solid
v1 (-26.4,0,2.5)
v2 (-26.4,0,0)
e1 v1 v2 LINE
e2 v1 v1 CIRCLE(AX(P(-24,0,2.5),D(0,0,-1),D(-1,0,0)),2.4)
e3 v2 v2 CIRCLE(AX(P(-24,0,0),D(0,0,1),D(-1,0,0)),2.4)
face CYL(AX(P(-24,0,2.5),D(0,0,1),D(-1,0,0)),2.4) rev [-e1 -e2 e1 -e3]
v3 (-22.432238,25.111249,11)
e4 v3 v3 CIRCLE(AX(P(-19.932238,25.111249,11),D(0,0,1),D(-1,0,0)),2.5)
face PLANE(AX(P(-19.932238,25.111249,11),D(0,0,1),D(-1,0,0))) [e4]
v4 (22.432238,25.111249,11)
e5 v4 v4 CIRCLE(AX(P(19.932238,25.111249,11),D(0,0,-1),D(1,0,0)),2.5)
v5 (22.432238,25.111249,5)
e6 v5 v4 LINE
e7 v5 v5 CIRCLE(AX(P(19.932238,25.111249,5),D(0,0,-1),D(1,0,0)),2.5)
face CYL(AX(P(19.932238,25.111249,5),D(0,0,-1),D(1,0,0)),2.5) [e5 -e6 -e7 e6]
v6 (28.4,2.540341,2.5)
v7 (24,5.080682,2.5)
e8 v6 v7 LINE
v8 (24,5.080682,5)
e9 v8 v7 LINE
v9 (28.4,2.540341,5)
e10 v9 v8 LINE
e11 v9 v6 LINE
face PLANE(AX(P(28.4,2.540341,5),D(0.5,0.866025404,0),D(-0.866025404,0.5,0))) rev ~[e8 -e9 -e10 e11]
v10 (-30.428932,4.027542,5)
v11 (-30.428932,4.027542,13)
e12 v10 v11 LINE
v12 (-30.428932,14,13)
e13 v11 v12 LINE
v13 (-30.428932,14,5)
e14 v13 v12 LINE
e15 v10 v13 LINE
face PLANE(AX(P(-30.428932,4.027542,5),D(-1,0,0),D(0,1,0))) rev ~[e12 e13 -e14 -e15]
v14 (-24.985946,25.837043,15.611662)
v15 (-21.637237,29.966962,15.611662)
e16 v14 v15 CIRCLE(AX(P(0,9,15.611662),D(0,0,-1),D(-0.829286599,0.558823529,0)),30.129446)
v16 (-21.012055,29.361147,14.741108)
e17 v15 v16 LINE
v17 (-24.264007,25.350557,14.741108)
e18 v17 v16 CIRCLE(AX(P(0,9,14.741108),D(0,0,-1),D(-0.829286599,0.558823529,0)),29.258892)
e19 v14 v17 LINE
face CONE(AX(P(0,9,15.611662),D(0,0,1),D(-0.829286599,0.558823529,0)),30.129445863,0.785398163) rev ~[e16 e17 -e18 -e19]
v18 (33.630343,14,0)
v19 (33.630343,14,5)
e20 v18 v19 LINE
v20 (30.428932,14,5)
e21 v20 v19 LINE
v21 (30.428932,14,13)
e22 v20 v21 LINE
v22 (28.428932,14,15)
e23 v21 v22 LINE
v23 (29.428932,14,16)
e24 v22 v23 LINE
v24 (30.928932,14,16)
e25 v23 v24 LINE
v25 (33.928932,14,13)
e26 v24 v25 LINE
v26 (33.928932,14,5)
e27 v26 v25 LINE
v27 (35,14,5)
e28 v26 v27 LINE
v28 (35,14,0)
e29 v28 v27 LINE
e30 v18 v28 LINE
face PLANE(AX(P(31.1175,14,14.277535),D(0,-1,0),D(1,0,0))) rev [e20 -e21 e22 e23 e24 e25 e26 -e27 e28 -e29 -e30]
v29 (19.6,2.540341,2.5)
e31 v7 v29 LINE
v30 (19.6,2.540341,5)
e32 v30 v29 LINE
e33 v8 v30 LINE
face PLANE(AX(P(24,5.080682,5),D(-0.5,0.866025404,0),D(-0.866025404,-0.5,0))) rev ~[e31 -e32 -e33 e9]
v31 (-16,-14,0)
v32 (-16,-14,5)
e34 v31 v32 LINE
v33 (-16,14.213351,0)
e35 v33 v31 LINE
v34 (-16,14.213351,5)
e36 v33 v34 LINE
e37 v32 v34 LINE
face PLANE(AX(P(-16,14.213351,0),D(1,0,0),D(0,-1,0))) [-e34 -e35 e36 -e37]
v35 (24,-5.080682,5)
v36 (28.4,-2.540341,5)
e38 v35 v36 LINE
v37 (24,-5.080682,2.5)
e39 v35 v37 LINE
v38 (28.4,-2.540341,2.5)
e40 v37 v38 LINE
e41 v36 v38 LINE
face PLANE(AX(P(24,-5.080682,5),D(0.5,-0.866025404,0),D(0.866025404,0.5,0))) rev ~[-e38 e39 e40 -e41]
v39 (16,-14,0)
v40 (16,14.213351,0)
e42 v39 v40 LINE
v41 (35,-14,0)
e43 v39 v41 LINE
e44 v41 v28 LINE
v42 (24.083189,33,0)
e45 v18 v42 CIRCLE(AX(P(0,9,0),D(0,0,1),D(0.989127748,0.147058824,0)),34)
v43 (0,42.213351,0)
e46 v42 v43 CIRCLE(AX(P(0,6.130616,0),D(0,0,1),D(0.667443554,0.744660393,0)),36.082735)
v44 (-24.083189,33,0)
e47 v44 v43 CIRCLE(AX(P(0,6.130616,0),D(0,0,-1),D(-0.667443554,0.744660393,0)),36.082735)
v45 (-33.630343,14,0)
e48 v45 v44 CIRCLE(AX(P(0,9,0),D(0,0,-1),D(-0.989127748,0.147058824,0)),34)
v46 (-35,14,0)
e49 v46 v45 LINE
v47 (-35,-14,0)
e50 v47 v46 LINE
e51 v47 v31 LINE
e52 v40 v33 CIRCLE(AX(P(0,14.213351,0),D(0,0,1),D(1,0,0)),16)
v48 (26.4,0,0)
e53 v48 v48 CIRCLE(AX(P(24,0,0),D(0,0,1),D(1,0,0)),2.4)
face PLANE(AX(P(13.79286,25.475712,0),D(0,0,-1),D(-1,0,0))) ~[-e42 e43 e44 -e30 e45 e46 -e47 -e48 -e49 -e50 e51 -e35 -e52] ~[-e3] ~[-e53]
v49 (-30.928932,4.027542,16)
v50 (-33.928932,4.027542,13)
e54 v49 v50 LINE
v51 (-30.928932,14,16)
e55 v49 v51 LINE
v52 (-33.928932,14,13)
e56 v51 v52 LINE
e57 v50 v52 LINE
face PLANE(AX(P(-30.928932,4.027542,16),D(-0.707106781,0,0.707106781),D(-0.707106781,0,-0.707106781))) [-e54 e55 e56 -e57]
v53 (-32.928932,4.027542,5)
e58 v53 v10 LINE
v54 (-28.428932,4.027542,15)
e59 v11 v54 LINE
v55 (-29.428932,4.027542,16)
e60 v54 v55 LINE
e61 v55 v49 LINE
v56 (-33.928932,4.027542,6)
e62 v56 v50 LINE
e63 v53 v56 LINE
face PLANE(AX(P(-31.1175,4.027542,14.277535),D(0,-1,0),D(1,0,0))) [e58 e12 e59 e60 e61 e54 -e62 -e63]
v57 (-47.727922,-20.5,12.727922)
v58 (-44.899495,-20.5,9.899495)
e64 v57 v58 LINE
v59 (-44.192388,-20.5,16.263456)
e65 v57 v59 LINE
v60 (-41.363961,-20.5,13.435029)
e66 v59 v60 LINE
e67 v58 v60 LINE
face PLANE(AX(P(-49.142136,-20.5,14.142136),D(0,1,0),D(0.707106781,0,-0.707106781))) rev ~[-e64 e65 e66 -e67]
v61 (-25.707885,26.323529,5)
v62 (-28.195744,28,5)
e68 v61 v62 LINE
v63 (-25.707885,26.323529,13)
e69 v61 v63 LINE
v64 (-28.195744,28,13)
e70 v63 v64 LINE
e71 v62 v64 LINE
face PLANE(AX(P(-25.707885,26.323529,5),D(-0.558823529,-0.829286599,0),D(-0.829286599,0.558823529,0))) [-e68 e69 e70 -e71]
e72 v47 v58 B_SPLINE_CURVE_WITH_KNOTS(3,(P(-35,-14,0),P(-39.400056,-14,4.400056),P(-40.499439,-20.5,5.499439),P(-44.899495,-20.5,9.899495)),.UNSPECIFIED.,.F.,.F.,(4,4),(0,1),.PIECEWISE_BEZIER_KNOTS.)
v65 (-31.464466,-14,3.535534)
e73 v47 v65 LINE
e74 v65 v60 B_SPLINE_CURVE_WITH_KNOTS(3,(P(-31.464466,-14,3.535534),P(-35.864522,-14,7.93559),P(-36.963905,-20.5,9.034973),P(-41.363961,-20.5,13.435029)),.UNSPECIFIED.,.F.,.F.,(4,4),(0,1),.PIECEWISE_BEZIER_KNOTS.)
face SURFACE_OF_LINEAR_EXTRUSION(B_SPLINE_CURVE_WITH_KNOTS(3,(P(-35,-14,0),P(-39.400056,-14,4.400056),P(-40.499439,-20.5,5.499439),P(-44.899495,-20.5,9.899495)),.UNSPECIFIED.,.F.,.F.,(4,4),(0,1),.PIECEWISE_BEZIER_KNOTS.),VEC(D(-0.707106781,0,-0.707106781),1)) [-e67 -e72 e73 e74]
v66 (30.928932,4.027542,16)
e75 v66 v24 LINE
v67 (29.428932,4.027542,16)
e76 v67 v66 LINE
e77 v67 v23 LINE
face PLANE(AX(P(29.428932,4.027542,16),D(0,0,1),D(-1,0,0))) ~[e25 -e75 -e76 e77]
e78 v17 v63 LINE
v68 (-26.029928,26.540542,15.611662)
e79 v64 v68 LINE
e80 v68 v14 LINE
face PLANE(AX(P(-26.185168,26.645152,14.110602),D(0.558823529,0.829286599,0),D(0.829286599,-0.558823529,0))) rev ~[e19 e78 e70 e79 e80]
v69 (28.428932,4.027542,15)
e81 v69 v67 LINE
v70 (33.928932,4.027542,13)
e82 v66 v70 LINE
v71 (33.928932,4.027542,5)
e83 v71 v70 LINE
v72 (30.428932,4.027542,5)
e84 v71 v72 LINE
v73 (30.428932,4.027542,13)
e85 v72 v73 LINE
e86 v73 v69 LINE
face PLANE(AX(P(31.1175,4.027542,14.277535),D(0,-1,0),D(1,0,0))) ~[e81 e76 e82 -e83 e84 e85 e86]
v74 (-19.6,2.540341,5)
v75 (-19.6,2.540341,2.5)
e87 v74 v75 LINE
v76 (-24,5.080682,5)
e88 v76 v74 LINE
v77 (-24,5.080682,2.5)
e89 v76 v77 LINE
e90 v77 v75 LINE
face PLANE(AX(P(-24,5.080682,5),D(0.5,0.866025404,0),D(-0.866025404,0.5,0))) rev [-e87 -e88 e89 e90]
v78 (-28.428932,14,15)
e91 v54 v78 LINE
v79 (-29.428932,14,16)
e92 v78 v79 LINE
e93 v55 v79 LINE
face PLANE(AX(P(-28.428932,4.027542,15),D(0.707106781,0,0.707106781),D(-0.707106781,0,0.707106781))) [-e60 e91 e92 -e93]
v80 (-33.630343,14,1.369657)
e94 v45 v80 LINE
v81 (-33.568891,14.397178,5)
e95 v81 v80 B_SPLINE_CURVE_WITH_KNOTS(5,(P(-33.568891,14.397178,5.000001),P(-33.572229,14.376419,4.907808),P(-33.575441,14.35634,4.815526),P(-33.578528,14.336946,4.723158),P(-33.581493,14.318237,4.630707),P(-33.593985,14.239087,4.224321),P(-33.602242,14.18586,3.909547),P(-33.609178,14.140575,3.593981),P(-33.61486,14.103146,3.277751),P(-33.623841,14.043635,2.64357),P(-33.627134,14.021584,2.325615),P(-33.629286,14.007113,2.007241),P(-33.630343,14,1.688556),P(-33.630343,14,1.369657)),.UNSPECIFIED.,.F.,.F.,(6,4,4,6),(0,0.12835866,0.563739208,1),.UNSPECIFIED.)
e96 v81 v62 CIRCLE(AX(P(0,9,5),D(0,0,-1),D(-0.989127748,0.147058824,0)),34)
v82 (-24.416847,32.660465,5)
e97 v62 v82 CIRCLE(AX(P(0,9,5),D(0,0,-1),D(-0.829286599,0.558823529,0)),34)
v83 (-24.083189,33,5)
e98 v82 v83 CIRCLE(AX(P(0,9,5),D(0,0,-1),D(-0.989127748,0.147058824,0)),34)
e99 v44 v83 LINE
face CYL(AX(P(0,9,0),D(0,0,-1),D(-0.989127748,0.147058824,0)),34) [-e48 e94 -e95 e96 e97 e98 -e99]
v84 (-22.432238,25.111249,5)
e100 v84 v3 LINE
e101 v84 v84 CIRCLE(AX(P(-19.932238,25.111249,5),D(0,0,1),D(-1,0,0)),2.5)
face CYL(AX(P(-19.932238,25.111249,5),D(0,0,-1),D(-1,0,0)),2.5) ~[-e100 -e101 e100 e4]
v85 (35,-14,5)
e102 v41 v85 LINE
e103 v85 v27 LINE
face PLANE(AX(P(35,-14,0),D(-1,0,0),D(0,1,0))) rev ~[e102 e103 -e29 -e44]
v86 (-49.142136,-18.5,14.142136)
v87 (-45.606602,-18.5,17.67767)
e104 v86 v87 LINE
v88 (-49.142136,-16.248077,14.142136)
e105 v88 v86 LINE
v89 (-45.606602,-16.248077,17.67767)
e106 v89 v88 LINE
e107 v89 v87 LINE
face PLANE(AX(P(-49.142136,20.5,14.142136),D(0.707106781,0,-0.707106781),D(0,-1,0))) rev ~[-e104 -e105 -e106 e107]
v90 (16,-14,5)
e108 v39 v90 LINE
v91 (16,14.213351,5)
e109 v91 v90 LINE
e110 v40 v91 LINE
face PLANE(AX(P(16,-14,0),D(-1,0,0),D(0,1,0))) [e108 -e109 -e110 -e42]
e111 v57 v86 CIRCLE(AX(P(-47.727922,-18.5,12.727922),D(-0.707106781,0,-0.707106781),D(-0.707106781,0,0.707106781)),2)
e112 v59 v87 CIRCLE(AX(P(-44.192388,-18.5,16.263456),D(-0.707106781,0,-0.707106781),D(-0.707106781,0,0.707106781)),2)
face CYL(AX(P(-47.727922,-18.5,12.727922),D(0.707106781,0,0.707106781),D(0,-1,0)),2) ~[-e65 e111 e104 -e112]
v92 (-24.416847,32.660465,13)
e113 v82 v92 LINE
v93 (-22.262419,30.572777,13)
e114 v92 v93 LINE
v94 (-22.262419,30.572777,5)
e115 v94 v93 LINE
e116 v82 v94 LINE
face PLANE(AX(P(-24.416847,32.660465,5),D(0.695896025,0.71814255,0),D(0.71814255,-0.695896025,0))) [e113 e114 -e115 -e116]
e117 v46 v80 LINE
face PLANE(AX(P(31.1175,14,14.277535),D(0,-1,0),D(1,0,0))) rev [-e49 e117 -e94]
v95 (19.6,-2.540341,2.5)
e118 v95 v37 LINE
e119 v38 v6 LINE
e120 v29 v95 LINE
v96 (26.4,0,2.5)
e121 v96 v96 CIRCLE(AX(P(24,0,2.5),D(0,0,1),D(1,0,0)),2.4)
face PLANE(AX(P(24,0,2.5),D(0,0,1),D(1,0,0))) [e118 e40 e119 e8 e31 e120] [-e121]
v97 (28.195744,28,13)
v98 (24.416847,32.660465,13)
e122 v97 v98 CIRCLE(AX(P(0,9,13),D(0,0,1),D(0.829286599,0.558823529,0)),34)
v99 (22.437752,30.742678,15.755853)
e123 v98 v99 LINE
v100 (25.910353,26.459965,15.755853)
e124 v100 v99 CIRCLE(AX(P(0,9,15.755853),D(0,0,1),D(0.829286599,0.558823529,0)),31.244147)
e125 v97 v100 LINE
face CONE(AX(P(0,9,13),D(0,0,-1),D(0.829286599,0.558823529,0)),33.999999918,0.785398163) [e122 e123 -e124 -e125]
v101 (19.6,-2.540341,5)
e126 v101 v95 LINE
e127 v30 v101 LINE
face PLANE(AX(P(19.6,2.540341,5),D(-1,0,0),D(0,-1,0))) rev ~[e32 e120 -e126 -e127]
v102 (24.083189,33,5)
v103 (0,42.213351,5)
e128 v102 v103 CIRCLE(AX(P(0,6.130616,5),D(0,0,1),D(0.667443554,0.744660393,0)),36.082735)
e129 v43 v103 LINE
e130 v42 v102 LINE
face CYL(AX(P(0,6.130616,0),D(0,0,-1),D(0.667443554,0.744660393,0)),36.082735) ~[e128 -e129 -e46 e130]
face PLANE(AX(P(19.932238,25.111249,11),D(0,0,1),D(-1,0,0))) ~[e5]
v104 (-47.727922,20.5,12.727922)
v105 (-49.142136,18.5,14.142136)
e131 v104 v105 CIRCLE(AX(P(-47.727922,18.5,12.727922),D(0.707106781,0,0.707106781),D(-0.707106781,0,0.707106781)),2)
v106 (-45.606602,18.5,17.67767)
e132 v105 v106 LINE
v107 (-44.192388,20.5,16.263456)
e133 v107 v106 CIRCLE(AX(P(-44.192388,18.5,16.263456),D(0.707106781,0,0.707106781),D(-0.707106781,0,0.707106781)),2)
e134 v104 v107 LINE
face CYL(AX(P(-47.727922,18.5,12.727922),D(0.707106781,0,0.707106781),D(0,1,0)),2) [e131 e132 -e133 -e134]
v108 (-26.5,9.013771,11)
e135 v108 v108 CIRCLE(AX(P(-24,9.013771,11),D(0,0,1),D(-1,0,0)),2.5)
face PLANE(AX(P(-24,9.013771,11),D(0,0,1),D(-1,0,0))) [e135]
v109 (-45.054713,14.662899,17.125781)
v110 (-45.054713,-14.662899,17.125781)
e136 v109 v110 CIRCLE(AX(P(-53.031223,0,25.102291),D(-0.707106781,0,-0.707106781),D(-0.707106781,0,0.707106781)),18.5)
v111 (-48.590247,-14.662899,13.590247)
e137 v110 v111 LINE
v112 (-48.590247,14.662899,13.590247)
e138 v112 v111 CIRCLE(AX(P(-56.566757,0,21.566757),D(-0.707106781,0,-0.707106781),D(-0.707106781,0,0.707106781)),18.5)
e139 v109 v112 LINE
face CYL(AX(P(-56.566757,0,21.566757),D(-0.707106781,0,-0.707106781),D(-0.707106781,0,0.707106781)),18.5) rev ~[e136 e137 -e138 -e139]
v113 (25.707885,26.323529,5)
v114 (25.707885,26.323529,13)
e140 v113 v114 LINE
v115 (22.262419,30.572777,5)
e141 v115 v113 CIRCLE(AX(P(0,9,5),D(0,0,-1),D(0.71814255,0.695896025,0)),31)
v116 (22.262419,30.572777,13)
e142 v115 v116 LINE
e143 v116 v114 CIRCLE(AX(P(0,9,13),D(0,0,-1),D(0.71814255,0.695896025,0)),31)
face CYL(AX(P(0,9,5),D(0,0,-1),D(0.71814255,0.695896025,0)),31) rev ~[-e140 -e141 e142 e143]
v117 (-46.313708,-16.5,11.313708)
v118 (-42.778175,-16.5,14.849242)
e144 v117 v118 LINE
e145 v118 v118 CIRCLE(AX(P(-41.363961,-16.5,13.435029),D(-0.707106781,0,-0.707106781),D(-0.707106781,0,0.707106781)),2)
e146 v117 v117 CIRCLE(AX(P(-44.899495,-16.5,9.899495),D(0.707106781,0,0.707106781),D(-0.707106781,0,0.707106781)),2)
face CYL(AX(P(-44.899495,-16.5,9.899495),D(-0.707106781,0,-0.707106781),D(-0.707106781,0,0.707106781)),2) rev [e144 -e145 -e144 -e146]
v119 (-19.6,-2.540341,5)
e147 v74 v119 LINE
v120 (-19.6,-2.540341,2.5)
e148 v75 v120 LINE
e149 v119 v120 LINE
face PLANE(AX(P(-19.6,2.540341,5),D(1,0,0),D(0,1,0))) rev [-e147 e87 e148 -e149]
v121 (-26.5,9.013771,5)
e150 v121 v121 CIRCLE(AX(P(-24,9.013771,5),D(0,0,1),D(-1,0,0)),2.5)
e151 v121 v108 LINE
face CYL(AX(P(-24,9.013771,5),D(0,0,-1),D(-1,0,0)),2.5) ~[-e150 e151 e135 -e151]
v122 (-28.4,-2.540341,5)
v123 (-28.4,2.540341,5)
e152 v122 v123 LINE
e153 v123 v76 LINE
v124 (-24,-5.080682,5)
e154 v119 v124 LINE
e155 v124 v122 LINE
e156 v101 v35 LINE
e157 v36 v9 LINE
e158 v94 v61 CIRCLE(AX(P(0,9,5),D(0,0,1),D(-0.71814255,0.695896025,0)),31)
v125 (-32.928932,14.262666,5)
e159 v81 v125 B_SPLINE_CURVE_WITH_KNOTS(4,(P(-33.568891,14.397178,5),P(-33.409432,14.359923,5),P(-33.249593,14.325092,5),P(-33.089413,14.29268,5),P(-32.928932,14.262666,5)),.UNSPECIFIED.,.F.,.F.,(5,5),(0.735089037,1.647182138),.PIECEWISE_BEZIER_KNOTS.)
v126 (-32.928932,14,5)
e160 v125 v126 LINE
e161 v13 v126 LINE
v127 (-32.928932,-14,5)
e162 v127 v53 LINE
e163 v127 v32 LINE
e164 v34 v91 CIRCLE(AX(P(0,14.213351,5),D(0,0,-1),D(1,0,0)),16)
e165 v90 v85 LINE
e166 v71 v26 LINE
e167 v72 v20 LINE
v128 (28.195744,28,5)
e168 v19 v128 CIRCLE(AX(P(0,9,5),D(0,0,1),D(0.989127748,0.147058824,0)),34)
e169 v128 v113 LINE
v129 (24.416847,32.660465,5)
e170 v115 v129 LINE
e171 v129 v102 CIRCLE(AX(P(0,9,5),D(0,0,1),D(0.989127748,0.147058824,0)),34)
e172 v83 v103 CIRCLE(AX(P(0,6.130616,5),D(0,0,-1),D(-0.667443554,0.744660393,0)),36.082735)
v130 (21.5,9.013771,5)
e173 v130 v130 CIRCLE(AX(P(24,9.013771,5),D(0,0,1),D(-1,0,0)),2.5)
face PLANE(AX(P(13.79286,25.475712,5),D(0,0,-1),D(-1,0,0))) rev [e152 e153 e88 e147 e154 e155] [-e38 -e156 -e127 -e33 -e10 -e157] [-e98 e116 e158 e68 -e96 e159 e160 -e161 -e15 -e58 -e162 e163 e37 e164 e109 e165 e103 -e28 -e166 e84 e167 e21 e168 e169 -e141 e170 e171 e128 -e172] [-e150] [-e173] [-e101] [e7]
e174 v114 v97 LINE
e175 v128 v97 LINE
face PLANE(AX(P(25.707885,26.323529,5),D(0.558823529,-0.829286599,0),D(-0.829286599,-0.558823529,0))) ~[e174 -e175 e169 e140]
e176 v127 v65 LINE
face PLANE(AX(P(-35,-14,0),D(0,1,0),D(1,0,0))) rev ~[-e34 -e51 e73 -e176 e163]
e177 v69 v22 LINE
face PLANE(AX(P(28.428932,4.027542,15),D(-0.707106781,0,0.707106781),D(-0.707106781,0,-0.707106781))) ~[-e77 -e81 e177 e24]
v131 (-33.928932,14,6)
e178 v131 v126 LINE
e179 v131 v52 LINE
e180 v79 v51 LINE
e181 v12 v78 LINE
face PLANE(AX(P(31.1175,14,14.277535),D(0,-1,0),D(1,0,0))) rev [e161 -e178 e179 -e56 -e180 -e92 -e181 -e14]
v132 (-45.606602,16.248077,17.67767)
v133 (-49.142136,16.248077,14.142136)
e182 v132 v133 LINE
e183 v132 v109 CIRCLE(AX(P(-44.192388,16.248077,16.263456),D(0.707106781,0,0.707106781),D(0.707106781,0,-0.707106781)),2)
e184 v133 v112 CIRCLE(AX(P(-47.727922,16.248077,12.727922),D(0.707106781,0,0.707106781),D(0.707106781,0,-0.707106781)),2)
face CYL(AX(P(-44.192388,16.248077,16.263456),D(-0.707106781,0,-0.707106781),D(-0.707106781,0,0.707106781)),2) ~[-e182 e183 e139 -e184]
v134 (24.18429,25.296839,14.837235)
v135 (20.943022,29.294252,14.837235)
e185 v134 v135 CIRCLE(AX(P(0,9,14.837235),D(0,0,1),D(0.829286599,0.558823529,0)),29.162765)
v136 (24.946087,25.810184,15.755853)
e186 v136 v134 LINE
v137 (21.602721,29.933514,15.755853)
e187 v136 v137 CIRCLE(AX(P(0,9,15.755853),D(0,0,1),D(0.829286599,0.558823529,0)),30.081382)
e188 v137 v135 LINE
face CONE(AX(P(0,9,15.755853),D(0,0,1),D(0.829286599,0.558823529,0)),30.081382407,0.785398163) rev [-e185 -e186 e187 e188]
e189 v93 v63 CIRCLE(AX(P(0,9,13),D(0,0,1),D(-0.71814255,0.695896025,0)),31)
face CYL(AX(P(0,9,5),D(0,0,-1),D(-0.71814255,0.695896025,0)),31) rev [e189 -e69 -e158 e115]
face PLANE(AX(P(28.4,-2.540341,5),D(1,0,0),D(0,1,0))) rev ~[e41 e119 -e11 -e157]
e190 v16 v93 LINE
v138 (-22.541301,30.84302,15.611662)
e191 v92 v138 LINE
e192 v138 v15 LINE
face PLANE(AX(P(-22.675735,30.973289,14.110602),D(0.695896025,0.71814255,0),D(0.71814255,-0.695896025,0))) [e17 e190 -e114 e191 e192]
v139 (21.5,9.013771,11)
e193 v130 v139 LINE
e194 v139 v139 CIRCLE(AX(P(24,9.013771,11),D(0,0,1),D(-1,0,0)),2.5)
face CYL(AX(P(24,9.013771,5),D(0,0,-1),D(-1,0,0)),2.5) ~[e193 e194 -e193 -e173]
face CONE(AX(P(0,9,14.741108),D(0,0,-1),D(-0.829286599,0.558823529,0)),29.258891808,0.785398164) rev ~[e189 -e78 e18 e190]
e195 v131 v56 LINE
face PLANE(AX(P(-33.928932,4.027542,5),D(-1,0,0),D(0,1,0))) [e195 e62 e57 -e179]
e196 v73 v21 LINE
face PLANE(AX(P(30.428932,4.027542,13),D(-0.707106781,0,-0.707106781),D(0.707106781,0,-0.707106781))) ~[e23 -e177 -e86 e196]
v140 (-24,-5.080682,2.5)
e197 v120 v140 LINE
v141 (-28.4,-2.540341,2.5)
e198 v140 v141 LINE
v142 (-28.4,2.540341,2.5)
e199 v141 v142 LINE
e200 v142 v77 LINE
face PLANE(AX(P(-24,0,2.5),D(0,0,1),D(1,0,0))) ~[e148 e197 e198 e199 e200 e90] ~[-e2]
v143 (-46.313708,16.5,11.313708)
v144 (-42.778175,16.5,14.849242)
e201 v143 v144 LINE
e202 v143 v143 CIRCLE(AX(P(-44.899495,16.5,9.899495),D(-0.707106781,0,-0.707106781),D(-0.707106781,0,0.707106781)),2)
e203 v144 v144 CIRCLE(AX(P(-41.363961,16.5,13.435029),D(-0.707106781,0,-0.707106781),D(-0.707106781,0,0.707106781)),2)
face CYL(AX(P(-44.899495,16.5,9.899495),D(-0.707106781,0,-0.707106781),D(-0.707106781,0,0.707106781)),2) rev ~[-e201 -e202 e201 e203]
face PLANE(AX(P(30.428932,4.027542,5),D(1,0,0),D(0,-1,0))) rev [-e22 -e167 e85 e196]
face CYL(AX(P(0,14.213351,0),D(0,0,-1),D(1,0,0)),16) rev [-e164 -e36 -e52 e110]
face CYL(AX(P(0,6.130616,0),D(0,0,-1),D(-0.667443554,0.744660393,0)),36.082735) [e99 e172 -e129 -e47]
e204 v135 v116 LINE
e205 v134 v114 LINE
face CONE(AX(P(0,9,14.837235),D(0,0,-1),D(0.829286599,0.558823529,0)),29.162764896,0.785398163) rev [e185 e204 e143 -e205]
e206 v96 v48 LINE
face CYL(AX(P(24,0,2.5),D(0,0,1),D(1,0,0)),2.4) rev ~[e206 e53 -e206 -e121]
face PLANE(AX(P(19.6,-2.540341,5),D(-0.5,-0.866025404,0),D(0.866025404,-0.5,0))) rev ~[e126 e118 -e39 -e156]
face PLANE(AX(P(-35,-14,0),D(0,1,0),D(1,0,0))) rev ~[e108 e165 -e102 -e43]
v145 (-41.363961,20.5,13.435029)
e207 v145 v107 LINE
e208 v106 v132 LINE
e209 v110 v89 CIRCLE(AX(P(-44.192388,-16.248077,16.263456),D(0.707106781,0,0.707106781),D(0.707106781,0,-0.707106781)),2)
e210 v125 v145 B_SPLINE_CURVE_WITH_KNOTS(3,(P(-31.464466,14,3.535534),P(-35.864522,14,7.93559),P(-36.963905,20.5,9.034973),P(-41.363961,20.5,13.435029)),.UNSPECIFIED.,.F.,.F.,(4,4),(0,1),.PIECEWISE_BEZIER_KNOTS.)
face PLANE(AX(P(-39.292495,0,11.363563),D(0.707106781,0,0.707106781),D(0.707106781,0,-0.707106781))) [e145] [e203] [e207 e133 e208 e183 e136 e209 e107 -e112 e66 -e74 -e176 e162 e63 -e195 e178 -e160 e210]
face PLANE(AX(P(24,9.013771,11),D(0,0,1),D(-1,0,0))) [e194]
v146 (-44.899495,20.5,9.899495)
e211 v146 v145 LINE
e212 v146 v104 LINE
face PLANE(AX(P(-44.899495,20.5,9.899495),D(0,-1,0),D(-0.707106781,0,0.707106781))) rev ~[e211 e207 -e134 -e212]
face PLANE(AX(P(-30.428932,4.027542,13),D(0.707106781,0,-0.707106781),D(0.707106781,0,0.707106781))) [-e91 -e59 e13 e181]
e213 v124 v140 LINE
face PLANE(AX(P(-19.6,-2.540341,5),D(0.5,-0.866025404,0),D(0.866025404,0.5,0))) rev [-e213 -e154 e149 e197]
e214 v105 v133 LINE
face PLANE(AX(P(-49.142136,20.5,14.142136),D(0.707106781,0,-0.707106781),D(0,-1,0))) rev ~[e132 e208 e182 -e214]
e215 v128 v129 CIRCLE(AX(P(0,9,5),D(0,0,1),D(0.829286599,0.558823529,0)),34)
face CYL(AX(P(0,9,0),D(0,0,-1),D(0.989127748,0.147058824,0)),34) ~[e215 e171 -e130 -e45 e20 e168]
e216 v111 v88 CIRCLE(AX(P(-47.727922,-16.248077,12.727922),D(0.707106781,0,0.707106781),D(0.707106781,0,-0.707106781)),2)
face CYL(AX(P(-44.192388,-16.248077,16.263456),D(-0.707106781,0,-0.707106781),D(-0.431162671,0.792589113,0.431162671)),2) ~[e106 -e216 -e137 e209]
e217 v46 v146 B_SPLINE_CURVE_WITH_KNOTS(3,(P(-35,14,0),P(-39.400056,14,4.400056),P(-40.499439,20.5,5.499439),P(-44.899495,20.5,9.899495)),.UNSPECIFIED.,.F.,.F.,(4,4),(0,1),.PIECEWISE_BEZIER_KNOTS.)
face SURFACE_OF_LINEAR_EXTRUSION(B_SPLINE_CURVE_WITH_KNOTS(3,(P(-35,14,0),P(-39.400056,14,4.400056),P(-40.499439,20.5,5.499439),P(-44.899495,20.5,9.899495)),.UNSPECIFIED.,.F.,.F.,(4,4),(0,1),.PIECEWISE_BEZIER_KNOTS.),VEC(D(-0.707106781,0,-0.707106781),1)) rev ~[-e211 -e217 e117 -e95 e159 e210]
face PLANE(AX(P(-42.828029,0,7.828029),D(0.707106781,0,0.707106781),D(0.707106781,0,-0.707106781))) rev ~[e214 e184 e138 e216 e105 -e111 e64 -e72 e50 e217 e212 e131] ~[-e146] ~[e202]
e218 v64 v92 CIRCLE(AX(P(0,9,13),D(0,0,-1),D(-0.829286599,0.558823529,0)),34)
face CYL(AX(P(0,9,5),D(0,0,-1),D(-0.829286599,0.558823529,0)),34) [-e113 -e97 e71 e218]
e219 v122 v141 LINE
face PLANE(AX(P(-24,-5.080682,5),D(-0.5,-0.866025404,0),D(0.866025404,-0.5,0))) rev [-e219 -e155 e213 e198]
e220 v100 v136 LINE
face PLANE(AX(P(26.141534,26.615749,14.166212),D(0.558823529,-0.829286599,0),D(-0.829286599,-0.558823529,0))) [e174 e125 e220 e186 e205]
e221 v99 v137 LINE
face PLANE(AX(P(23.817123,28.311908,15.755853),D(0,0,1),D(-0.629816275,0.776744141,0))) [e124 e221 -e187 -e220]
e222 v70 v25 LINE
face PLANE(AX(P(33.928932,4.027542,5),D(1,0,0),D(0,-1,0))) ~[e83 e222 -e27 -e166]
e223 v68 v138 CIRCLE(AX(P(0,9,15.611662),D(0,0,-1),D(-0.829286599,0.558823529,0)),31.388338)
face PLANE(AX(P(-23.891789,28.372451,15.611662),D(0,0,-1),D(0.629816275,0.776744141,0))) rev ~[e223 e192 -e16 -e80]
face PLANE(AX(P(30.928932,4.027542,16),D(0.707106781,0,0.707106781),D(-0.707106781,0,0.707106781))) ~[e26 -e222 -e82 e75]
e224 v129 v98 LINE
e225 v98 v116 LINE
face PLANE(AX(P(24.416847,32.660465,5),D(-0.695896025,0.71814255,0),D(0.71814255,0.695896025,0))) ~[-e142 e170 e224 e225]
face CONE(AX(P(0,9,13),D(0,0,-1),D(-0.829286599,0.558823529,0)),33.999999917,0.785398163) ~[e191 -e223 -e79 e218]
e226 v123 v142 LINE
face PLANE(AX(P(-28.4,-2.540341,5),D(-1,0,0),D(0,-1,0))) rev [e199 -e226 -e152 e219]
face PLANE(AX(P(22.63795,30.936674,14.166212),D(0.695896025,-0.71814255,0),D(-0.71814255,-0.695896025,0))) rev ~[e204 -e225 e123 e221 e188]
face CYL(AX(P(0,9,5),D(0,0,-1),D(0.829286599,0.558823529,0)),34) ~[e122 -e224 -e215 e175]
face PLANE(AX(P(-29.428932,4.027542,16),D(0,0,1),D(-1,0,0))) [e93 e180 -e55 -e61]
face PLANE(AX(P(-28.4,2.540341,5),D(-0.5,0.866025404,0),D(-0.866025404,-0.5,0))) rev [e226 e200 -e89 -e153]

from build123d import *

# Parameters (mm, degrees)
SKETCH2_W                = 70
SKETCH2_H                = 28
BOSS_EXTRUDE1_DEPTH      = 5
CUT_NUT_DEPTH            = 2.5
SKETCH4_R                = 2.4
CUT_SCREW_DEPTH          = 38.7789624
SKETCH8_R                = 11
CUT_HOT_END_DEPTH        = 39.026306684
SKETCH11_W               = 22
SKETCH11_H               = 14
CUT_EXTRUDE8_DEPTH       = 39.026306684
BOSS_FAN_DEPTH           = 5
SKETCH9_R                = 2
CUT_FAN_SCREW_DEPTH      = 67.437703487
SKETCH10_R               = 18.5
CUT_EXTRUDE7_DEPTH       = 67.437703487
FILLET2_R                = 2
SKETCH12_W               = 3.5
SKETCH12_H               = 9.97245834
BOSS_BACK_HOOK_DEPTH     = 8
BOSS_BACK_HOOK_TOP_DEPTH = 9.97245834
SKETCH17_R               = 2.5
BOSS_EXTRUDE10_DEPTH     = 6
BOSS_FRONT_SUPPORT_REACH = 58.104
BOSS_FRONT_HOOK_DEPTH    = 8
SKETCH25_R               = 2.5
BOSS_FRONT_PIN_DEPTH     = 6
BOSS_FRONT_CURVE_DEPTH   = 5
CUT_EXTRUDE9_DEPTH       = 68.152189514


with BuildPart() as part:
    # Sketch2 → Boss-Extrude1 (new body)
    with BuildSketch(Plane.XY):
        Rectangle(SKETCH2_W, SKETCH2_H)
    extrude(amount=BOSS_EXTRUDE1_DEPTH)

    # Sketch3 → Cut-Nut (cut)
    with BuildSketch(Plane.XY.offset(5)):
        Polygon((28.4, 2.540341184), (24, 5.080682369), (19.6, 2.540341184), (19.6, -2.540341184), (24, -5.080682369), (28.4, -2.540341184), align=None)
    cut_nut = extrude(amount=-CUT_NUT_DEPTH, mode=Mode.SUBTRACT)

    # Sketch4 → Cut-Screw (cut, through all)
    with BuildSketch(Plane.XY.offset(2.5)):
        with Locations((24, 0)):
            Circle(SKETCH4_R)
    cut_screw = extrude(amount=-CUT_SCREW_DEPTH, mode=Mode.SUBTRACT)

    # Mirror1: Cut-Nut, Cut-Screw across plane
    add(cut_nut.mirror(Plane(origin=(0, 0, 0), x_dir=(0, 0, 1), z_dir=(1, 0, 0))), mode=Mode.SUBTRACT)
    add(cut_screw.mirror(Plane(origin=(0, 0, 0), x_dir=(0, 0, 1), z_dir=(1, 0, 0))), mode=Mode.SUBTRACT)

    # Sketch8 → Cut-Hot End (cut, through all)
    with BuildSketch(Plane.XY.offset(5)):
        Circle(SKETCH8_R)
    extrude(amount=-CUT_HOT_END_DEPTH, mode=Mode.SUBTRACT)

    # Sketch11 → Cut-Extrude8 (cut, through all)
    with BuildSketch(Plane.XY.offset(5)):
        with Locations((0, -7)):
            Rectangle(SKETCH11_W, SKETCH11_H)
    extrude(amount=-CUT_EXTRUDE8_DEPTH, mode=Mode.SUBTRACT)

    # Sketch6 → Boss-Fan (add)
    with BuildSketch(Plane(origin=(-17.5, 0, -17.5), x_dir=(-0.7071067811865488, 0, 0.7071067811865464), z_dir=(-0.7071067811865464, 0, -0.7071067811865488))):
        with BuildLine():
            Line((38.748737342, 20.5), (44.748737342, 20.5))
            Line((44.748737342, 20.5), (44.748737342, -20.5))
            Line((44.748737342, -20.5), (38.748737342, -20.5))
            add(Edge.make_bspline(
                [(24.748737342, -14), (30.971356168, -14), (32.526118515, -20.5), (38.748737342, -20.5)],
                knots=[0, 0, 0, 0, 1, 1, 1, 1], degree=3))
            Line((24.748737342, -14), (24.748737342, 14))
            add(Edge.make_bspline(
                [(24.748737342, 14), (30.971356168, 14), (32.526118515, 20.5), (38.748737342, 20.5)],
                knots=[0, 0, 0, 0, 1, 1, 1, 1], degree=3))
        make_face()
    extrude(amount=-BOSS_FAN_DEPTH)

    # Sketch9 → Cut-Fan Screw (cut, through all)
    with BuildSketch(Plane(origin=(-17.5, 0, -17.5), x_dir=(-0.7071067811865487, 1.3344026738283447e-14, 0.7071067811865464), z_dir=(-0.7071067811865464, 1.3877787807814728e-14, -0.7071067811865487))):
        with Locations((38.748737342, 16.5)):
            Circle(SKETCH9_R)
    cut_fan_screw = extrude(amount=-CUT_FAN_SCREW_DEPTH, mode=Mode.SUBTRACT)

    # Mirror-Fan Screw: Cut-Fan Screw across plane
    add(cut_fan_screw.mirror(Plane.ZX), mode=Mode.SUBTRACT)

    # Sketch10 → Cut-Extrude7 (cut, through all)
    with BuildSketch(Plane(origin=(-17.5, 0, -17.5), x_dir=(-0.7071067811865488, 1.4278108609963275e-14, 0.7071067811865464), z_dir=(-0.7071067811865464, 1.3877787807814742e-14, -0.7071067811865488))):
        with Locations((55.248737342, 0)):
            Circle(SKETCH10_R)
    extrude(amount=-CUT_EXTRUDE7_DEPTH, mode=Mode.SUBTRACT)

    # Fillet2
    fillet2_edges = [part.edges().sort_by_distance(p)[0] for p in [
        (-47.374368671, -15.231546212, 15.909902577),
        (-47.374368671, 15.231546212, 15.909902577),
        (-47.374368671, 20.5, 15.909902577),
        (-47.374368671, -20.5, 15.909902577),
    ]]
    fillet(fillet2_edges, radius=FILLET2_R)

    # Sketch12 → Boss-Back Hook (add)
    with BuildSketch(Plane.XY.offset(5)):
        with Locations((-32.178932188, 9.01377083)):
            Rectangle(SKETCH12_W, SKETCH12_H)
    boss_back_hook = extrude(amount=BOSS_BACK_HOOK_DEPTH)

    # Sketch14 → Boss-Back Hook Top (add)
    with BuildSketch(Plane.XZ.offset(-4.02754166)):
        Polygon((-30.428932188, 13), (-28.428932188, 15), (-29.428932188, 16), (-30.928932188, 16), (-33.928932188, 13), align=None)
    boss_back_hook_top = extrude(amount=-BOSS_BACK_HOOK_TOP_DEPTH)

    # Mirror-Back Hook: Boss-Back Hook, Boss-Back Hook Top across plane
    add(boss_back_hook.mirror(Plane(origin=(0, 0, 0), x_dir=(0, 0, 1), z_dir=(1, 0, 0))))
    add(boss_back_hook_top.mirror(Plane(origin=(0, 0, 0), x_dir=(0, 0, 1), z_dir=(1, 0, 0))))

    # Sketch17 → Boss-Extrude10 (add)
    with BuildSketch(Plane.XY.offset(5)):
        with Locations(Location((-24, 9.01377083, 0), (0, 0, 180))):
            Circle(SKETCH17_R)
        with Locations(Location((24, 9.01377083, 0), (0, 0, 180))):
            Circle(SKETCH17_R)
    extrude(amount=BOSS_EXTRUDE10_DEPTH)

    # Boss-Front Support: up to this face of the body (flat: up to its plane)
    boss_front_support_end = Plane(part.part.faces().sort_by_distance((23, -13.265266046, 5))[0])
    # Sketch20 → Boss-Front Support (add, up to the picked face)
    with BuildSketch(Plane(origin=(0, 0, 0), x_dir=(-1, 0, 0), z_dir=(0, 0, -1)), mode=Mode.PRIVATE) as boss_front_support_sk1:
        with BuildLine():
            Line((24.083189158, 33), (15.583240043, 24.529411765))
            ThreePointArc((15.583240043, 24.529411765), (19.23814858, 19.67209629), (21.424285286, 14))
            Line((21.424285286, 14), (33.630343442, 14))
            ThreePointArc((33.630343442, 14), (30.380305483, 24.265550718), (24.083189158, 33))
        make_face()
    boss_front_support_tool1 = split(extrude(boss_front_support_sk1.sketch, amount=-BOSS_FRONT_SUPPORT_REACH, mode=Mode.PRIVATE), bisect_by=boss_front_support_end, keep=Keep.BOTH, mode=Mode.PRIVATE)
    boss_front_support = boss_front_support_tool1.solids().sort_by(Axis((-24.942204, 21.980876, 0), (0, 0, 1)))[0]
    add(boss_front_support)

    # Sketch21 → Boss-Front Hook (add)
    with BuildSketch(Plane.XY.offset(5)):
        with BuildLine():
            Line((-24.416846712, 32.660464844), (-22.262419061, 30.57277677))
            ThreePointArc((-22.262419061, 30.57277677), (-24.079068363, 28.524304515), (-25.707884563, 26.323529412))
            Line((-25.707884563, 26.323529412), (-28.19574436, 28))
            ThreePointArc((-28.19574436, 28), (-26.409300785, 30.413753339), (-24.416846712, 32.660464844))
        make_face()
    boss_front_hook = extrude(amount=BOSS_FRONT_HOOK_DEPTH)

    # Sweep-Front Hook Top: sweep along a curve in space
    with BuildLine() as sweep_front_hook_top_path:
        ThreePointArc((-25.707884563, 26.323529412, 13), (-24.079068363, 28.524304515, 13), (-22.262419061, 30.57277677, 13))
    # Sketch22 → Sweep-Front Hook Top (sweep)
    with BuildSketch(Plane(origin=(4.752413936, 4.394805718, 0), x_dir=(0, 0, -1), z_dir=(0.6958960248359726, 0.7181425503460238, 0))):
        Polygon((-13, 37.617647059), (-13, 40.617647059), (-15.611662163, 38.005984896), (-15.611662163, 36.747093005), (-14.741108108, 35.87653895), align=None)
    sweep(path=sweep_front_hook_top_path.line)

    # Sketch25 → Boss-Front Pin (add)
    with BuildSketch(Plane.XY.offset(5)):
        with Locations(Location((-19.93223769, 25.111248957, 0), (0, 0, 180))):
            Circle(SKETCH25_R)
    boss_front_pin = extrude(amount=BOSS_FRONT_PIN_DEPTH)

    # Sketch23 → Boss-Front Curve (add)
    with BuildSketch(Plane(origin=(0, 0, 0), x_dir=(-1, 0, 0), z_dir=(0, 0, -1))):
        with BuildLine():
            Line((0, 42.213351454), (0, 14))
            Line((0, 14), (33.630343442, 14))
            Line((33.630343442, 14), (24.083189158, 33))
            ThreePointArc((24.083189158, 33), (12.892690226, 39.831392494), (0, 42.213351454))
        make_face()
    boss_front_curve = extrude(amount=-BOSS_FRONT_CURVE_DEPTH)

    # Mirror5: Boss-Front Support, Boss-Front Hook, Boss-Front Pin, Boss-Front Curve across plane
    add(boss_front_support.mirror(Plane(origin=(0, 0, 0), x_dir=(0, 0, 1), z_dir=(1, 0, 0))))
    add(boss_front_hook.mirror(Plane(origin=(0, 0, 0), x_dir=(0, 0, 1), z_dir=(1, 0, 0))))
    add(boss_front_pin.mirror(Plane(origin=(0, 0, 0), x_dir=(0, 0, 1), z_dir=(1, 0, 0))))
    add(boss_front_curve.mirror(Plane(origin=(0, 0, 0), x_dir=(0, 0, 1), z_dir=(1, 0, 0))))

    # Sweep2: sweep along a curve in space
    with BuildLine() as sweep2_path:
        ThreePointArc((25.707884563, 26.323529412, 13), (24.079068363, 28.524304515, 13), (22.262419061, 30.57277677, 13))
    # Sketch24 → Sweep2 (sweep)
    with BuildSketch(Plane(origin=(-4.170823776, 6.189446367, 0), x_dir=(0.8292865988159824, 0.5588235294117634, 0), z_dir=(0.5588235294117634, -0.8292865988159824, 0))):
        Polygon((36.029411765, 13), (39.029411765, 13), (36.273559232, 15.755852533), (35.110794254, 15.755852533), (34.192176743, 14.837235022), align=None)
    sweep(path=sweep2_path.line)

    # Sketch26 → Cut-Extrude9 (cut, through all)
    with BuildSketch(Plane(origin=(0, 0, 0), x_dir=(-1, 0, 0), z_dir=(0, 0, -1))):
        with BuildLine():
            Line((-16, -14), (-16, 14.213351454))
            ThreePointArc((-16, 14.213351454), (0, 30.213351454), (16, 14.213351454))
            Line((16, 14.213351454), (16, -14))
            Line((16, -14), (-16, -14))
        make_face()
    extrude(amount=-CUT_EXTRUDE9_DEPTH, mode=Mode.SUBTRACT)


solid = part.part
